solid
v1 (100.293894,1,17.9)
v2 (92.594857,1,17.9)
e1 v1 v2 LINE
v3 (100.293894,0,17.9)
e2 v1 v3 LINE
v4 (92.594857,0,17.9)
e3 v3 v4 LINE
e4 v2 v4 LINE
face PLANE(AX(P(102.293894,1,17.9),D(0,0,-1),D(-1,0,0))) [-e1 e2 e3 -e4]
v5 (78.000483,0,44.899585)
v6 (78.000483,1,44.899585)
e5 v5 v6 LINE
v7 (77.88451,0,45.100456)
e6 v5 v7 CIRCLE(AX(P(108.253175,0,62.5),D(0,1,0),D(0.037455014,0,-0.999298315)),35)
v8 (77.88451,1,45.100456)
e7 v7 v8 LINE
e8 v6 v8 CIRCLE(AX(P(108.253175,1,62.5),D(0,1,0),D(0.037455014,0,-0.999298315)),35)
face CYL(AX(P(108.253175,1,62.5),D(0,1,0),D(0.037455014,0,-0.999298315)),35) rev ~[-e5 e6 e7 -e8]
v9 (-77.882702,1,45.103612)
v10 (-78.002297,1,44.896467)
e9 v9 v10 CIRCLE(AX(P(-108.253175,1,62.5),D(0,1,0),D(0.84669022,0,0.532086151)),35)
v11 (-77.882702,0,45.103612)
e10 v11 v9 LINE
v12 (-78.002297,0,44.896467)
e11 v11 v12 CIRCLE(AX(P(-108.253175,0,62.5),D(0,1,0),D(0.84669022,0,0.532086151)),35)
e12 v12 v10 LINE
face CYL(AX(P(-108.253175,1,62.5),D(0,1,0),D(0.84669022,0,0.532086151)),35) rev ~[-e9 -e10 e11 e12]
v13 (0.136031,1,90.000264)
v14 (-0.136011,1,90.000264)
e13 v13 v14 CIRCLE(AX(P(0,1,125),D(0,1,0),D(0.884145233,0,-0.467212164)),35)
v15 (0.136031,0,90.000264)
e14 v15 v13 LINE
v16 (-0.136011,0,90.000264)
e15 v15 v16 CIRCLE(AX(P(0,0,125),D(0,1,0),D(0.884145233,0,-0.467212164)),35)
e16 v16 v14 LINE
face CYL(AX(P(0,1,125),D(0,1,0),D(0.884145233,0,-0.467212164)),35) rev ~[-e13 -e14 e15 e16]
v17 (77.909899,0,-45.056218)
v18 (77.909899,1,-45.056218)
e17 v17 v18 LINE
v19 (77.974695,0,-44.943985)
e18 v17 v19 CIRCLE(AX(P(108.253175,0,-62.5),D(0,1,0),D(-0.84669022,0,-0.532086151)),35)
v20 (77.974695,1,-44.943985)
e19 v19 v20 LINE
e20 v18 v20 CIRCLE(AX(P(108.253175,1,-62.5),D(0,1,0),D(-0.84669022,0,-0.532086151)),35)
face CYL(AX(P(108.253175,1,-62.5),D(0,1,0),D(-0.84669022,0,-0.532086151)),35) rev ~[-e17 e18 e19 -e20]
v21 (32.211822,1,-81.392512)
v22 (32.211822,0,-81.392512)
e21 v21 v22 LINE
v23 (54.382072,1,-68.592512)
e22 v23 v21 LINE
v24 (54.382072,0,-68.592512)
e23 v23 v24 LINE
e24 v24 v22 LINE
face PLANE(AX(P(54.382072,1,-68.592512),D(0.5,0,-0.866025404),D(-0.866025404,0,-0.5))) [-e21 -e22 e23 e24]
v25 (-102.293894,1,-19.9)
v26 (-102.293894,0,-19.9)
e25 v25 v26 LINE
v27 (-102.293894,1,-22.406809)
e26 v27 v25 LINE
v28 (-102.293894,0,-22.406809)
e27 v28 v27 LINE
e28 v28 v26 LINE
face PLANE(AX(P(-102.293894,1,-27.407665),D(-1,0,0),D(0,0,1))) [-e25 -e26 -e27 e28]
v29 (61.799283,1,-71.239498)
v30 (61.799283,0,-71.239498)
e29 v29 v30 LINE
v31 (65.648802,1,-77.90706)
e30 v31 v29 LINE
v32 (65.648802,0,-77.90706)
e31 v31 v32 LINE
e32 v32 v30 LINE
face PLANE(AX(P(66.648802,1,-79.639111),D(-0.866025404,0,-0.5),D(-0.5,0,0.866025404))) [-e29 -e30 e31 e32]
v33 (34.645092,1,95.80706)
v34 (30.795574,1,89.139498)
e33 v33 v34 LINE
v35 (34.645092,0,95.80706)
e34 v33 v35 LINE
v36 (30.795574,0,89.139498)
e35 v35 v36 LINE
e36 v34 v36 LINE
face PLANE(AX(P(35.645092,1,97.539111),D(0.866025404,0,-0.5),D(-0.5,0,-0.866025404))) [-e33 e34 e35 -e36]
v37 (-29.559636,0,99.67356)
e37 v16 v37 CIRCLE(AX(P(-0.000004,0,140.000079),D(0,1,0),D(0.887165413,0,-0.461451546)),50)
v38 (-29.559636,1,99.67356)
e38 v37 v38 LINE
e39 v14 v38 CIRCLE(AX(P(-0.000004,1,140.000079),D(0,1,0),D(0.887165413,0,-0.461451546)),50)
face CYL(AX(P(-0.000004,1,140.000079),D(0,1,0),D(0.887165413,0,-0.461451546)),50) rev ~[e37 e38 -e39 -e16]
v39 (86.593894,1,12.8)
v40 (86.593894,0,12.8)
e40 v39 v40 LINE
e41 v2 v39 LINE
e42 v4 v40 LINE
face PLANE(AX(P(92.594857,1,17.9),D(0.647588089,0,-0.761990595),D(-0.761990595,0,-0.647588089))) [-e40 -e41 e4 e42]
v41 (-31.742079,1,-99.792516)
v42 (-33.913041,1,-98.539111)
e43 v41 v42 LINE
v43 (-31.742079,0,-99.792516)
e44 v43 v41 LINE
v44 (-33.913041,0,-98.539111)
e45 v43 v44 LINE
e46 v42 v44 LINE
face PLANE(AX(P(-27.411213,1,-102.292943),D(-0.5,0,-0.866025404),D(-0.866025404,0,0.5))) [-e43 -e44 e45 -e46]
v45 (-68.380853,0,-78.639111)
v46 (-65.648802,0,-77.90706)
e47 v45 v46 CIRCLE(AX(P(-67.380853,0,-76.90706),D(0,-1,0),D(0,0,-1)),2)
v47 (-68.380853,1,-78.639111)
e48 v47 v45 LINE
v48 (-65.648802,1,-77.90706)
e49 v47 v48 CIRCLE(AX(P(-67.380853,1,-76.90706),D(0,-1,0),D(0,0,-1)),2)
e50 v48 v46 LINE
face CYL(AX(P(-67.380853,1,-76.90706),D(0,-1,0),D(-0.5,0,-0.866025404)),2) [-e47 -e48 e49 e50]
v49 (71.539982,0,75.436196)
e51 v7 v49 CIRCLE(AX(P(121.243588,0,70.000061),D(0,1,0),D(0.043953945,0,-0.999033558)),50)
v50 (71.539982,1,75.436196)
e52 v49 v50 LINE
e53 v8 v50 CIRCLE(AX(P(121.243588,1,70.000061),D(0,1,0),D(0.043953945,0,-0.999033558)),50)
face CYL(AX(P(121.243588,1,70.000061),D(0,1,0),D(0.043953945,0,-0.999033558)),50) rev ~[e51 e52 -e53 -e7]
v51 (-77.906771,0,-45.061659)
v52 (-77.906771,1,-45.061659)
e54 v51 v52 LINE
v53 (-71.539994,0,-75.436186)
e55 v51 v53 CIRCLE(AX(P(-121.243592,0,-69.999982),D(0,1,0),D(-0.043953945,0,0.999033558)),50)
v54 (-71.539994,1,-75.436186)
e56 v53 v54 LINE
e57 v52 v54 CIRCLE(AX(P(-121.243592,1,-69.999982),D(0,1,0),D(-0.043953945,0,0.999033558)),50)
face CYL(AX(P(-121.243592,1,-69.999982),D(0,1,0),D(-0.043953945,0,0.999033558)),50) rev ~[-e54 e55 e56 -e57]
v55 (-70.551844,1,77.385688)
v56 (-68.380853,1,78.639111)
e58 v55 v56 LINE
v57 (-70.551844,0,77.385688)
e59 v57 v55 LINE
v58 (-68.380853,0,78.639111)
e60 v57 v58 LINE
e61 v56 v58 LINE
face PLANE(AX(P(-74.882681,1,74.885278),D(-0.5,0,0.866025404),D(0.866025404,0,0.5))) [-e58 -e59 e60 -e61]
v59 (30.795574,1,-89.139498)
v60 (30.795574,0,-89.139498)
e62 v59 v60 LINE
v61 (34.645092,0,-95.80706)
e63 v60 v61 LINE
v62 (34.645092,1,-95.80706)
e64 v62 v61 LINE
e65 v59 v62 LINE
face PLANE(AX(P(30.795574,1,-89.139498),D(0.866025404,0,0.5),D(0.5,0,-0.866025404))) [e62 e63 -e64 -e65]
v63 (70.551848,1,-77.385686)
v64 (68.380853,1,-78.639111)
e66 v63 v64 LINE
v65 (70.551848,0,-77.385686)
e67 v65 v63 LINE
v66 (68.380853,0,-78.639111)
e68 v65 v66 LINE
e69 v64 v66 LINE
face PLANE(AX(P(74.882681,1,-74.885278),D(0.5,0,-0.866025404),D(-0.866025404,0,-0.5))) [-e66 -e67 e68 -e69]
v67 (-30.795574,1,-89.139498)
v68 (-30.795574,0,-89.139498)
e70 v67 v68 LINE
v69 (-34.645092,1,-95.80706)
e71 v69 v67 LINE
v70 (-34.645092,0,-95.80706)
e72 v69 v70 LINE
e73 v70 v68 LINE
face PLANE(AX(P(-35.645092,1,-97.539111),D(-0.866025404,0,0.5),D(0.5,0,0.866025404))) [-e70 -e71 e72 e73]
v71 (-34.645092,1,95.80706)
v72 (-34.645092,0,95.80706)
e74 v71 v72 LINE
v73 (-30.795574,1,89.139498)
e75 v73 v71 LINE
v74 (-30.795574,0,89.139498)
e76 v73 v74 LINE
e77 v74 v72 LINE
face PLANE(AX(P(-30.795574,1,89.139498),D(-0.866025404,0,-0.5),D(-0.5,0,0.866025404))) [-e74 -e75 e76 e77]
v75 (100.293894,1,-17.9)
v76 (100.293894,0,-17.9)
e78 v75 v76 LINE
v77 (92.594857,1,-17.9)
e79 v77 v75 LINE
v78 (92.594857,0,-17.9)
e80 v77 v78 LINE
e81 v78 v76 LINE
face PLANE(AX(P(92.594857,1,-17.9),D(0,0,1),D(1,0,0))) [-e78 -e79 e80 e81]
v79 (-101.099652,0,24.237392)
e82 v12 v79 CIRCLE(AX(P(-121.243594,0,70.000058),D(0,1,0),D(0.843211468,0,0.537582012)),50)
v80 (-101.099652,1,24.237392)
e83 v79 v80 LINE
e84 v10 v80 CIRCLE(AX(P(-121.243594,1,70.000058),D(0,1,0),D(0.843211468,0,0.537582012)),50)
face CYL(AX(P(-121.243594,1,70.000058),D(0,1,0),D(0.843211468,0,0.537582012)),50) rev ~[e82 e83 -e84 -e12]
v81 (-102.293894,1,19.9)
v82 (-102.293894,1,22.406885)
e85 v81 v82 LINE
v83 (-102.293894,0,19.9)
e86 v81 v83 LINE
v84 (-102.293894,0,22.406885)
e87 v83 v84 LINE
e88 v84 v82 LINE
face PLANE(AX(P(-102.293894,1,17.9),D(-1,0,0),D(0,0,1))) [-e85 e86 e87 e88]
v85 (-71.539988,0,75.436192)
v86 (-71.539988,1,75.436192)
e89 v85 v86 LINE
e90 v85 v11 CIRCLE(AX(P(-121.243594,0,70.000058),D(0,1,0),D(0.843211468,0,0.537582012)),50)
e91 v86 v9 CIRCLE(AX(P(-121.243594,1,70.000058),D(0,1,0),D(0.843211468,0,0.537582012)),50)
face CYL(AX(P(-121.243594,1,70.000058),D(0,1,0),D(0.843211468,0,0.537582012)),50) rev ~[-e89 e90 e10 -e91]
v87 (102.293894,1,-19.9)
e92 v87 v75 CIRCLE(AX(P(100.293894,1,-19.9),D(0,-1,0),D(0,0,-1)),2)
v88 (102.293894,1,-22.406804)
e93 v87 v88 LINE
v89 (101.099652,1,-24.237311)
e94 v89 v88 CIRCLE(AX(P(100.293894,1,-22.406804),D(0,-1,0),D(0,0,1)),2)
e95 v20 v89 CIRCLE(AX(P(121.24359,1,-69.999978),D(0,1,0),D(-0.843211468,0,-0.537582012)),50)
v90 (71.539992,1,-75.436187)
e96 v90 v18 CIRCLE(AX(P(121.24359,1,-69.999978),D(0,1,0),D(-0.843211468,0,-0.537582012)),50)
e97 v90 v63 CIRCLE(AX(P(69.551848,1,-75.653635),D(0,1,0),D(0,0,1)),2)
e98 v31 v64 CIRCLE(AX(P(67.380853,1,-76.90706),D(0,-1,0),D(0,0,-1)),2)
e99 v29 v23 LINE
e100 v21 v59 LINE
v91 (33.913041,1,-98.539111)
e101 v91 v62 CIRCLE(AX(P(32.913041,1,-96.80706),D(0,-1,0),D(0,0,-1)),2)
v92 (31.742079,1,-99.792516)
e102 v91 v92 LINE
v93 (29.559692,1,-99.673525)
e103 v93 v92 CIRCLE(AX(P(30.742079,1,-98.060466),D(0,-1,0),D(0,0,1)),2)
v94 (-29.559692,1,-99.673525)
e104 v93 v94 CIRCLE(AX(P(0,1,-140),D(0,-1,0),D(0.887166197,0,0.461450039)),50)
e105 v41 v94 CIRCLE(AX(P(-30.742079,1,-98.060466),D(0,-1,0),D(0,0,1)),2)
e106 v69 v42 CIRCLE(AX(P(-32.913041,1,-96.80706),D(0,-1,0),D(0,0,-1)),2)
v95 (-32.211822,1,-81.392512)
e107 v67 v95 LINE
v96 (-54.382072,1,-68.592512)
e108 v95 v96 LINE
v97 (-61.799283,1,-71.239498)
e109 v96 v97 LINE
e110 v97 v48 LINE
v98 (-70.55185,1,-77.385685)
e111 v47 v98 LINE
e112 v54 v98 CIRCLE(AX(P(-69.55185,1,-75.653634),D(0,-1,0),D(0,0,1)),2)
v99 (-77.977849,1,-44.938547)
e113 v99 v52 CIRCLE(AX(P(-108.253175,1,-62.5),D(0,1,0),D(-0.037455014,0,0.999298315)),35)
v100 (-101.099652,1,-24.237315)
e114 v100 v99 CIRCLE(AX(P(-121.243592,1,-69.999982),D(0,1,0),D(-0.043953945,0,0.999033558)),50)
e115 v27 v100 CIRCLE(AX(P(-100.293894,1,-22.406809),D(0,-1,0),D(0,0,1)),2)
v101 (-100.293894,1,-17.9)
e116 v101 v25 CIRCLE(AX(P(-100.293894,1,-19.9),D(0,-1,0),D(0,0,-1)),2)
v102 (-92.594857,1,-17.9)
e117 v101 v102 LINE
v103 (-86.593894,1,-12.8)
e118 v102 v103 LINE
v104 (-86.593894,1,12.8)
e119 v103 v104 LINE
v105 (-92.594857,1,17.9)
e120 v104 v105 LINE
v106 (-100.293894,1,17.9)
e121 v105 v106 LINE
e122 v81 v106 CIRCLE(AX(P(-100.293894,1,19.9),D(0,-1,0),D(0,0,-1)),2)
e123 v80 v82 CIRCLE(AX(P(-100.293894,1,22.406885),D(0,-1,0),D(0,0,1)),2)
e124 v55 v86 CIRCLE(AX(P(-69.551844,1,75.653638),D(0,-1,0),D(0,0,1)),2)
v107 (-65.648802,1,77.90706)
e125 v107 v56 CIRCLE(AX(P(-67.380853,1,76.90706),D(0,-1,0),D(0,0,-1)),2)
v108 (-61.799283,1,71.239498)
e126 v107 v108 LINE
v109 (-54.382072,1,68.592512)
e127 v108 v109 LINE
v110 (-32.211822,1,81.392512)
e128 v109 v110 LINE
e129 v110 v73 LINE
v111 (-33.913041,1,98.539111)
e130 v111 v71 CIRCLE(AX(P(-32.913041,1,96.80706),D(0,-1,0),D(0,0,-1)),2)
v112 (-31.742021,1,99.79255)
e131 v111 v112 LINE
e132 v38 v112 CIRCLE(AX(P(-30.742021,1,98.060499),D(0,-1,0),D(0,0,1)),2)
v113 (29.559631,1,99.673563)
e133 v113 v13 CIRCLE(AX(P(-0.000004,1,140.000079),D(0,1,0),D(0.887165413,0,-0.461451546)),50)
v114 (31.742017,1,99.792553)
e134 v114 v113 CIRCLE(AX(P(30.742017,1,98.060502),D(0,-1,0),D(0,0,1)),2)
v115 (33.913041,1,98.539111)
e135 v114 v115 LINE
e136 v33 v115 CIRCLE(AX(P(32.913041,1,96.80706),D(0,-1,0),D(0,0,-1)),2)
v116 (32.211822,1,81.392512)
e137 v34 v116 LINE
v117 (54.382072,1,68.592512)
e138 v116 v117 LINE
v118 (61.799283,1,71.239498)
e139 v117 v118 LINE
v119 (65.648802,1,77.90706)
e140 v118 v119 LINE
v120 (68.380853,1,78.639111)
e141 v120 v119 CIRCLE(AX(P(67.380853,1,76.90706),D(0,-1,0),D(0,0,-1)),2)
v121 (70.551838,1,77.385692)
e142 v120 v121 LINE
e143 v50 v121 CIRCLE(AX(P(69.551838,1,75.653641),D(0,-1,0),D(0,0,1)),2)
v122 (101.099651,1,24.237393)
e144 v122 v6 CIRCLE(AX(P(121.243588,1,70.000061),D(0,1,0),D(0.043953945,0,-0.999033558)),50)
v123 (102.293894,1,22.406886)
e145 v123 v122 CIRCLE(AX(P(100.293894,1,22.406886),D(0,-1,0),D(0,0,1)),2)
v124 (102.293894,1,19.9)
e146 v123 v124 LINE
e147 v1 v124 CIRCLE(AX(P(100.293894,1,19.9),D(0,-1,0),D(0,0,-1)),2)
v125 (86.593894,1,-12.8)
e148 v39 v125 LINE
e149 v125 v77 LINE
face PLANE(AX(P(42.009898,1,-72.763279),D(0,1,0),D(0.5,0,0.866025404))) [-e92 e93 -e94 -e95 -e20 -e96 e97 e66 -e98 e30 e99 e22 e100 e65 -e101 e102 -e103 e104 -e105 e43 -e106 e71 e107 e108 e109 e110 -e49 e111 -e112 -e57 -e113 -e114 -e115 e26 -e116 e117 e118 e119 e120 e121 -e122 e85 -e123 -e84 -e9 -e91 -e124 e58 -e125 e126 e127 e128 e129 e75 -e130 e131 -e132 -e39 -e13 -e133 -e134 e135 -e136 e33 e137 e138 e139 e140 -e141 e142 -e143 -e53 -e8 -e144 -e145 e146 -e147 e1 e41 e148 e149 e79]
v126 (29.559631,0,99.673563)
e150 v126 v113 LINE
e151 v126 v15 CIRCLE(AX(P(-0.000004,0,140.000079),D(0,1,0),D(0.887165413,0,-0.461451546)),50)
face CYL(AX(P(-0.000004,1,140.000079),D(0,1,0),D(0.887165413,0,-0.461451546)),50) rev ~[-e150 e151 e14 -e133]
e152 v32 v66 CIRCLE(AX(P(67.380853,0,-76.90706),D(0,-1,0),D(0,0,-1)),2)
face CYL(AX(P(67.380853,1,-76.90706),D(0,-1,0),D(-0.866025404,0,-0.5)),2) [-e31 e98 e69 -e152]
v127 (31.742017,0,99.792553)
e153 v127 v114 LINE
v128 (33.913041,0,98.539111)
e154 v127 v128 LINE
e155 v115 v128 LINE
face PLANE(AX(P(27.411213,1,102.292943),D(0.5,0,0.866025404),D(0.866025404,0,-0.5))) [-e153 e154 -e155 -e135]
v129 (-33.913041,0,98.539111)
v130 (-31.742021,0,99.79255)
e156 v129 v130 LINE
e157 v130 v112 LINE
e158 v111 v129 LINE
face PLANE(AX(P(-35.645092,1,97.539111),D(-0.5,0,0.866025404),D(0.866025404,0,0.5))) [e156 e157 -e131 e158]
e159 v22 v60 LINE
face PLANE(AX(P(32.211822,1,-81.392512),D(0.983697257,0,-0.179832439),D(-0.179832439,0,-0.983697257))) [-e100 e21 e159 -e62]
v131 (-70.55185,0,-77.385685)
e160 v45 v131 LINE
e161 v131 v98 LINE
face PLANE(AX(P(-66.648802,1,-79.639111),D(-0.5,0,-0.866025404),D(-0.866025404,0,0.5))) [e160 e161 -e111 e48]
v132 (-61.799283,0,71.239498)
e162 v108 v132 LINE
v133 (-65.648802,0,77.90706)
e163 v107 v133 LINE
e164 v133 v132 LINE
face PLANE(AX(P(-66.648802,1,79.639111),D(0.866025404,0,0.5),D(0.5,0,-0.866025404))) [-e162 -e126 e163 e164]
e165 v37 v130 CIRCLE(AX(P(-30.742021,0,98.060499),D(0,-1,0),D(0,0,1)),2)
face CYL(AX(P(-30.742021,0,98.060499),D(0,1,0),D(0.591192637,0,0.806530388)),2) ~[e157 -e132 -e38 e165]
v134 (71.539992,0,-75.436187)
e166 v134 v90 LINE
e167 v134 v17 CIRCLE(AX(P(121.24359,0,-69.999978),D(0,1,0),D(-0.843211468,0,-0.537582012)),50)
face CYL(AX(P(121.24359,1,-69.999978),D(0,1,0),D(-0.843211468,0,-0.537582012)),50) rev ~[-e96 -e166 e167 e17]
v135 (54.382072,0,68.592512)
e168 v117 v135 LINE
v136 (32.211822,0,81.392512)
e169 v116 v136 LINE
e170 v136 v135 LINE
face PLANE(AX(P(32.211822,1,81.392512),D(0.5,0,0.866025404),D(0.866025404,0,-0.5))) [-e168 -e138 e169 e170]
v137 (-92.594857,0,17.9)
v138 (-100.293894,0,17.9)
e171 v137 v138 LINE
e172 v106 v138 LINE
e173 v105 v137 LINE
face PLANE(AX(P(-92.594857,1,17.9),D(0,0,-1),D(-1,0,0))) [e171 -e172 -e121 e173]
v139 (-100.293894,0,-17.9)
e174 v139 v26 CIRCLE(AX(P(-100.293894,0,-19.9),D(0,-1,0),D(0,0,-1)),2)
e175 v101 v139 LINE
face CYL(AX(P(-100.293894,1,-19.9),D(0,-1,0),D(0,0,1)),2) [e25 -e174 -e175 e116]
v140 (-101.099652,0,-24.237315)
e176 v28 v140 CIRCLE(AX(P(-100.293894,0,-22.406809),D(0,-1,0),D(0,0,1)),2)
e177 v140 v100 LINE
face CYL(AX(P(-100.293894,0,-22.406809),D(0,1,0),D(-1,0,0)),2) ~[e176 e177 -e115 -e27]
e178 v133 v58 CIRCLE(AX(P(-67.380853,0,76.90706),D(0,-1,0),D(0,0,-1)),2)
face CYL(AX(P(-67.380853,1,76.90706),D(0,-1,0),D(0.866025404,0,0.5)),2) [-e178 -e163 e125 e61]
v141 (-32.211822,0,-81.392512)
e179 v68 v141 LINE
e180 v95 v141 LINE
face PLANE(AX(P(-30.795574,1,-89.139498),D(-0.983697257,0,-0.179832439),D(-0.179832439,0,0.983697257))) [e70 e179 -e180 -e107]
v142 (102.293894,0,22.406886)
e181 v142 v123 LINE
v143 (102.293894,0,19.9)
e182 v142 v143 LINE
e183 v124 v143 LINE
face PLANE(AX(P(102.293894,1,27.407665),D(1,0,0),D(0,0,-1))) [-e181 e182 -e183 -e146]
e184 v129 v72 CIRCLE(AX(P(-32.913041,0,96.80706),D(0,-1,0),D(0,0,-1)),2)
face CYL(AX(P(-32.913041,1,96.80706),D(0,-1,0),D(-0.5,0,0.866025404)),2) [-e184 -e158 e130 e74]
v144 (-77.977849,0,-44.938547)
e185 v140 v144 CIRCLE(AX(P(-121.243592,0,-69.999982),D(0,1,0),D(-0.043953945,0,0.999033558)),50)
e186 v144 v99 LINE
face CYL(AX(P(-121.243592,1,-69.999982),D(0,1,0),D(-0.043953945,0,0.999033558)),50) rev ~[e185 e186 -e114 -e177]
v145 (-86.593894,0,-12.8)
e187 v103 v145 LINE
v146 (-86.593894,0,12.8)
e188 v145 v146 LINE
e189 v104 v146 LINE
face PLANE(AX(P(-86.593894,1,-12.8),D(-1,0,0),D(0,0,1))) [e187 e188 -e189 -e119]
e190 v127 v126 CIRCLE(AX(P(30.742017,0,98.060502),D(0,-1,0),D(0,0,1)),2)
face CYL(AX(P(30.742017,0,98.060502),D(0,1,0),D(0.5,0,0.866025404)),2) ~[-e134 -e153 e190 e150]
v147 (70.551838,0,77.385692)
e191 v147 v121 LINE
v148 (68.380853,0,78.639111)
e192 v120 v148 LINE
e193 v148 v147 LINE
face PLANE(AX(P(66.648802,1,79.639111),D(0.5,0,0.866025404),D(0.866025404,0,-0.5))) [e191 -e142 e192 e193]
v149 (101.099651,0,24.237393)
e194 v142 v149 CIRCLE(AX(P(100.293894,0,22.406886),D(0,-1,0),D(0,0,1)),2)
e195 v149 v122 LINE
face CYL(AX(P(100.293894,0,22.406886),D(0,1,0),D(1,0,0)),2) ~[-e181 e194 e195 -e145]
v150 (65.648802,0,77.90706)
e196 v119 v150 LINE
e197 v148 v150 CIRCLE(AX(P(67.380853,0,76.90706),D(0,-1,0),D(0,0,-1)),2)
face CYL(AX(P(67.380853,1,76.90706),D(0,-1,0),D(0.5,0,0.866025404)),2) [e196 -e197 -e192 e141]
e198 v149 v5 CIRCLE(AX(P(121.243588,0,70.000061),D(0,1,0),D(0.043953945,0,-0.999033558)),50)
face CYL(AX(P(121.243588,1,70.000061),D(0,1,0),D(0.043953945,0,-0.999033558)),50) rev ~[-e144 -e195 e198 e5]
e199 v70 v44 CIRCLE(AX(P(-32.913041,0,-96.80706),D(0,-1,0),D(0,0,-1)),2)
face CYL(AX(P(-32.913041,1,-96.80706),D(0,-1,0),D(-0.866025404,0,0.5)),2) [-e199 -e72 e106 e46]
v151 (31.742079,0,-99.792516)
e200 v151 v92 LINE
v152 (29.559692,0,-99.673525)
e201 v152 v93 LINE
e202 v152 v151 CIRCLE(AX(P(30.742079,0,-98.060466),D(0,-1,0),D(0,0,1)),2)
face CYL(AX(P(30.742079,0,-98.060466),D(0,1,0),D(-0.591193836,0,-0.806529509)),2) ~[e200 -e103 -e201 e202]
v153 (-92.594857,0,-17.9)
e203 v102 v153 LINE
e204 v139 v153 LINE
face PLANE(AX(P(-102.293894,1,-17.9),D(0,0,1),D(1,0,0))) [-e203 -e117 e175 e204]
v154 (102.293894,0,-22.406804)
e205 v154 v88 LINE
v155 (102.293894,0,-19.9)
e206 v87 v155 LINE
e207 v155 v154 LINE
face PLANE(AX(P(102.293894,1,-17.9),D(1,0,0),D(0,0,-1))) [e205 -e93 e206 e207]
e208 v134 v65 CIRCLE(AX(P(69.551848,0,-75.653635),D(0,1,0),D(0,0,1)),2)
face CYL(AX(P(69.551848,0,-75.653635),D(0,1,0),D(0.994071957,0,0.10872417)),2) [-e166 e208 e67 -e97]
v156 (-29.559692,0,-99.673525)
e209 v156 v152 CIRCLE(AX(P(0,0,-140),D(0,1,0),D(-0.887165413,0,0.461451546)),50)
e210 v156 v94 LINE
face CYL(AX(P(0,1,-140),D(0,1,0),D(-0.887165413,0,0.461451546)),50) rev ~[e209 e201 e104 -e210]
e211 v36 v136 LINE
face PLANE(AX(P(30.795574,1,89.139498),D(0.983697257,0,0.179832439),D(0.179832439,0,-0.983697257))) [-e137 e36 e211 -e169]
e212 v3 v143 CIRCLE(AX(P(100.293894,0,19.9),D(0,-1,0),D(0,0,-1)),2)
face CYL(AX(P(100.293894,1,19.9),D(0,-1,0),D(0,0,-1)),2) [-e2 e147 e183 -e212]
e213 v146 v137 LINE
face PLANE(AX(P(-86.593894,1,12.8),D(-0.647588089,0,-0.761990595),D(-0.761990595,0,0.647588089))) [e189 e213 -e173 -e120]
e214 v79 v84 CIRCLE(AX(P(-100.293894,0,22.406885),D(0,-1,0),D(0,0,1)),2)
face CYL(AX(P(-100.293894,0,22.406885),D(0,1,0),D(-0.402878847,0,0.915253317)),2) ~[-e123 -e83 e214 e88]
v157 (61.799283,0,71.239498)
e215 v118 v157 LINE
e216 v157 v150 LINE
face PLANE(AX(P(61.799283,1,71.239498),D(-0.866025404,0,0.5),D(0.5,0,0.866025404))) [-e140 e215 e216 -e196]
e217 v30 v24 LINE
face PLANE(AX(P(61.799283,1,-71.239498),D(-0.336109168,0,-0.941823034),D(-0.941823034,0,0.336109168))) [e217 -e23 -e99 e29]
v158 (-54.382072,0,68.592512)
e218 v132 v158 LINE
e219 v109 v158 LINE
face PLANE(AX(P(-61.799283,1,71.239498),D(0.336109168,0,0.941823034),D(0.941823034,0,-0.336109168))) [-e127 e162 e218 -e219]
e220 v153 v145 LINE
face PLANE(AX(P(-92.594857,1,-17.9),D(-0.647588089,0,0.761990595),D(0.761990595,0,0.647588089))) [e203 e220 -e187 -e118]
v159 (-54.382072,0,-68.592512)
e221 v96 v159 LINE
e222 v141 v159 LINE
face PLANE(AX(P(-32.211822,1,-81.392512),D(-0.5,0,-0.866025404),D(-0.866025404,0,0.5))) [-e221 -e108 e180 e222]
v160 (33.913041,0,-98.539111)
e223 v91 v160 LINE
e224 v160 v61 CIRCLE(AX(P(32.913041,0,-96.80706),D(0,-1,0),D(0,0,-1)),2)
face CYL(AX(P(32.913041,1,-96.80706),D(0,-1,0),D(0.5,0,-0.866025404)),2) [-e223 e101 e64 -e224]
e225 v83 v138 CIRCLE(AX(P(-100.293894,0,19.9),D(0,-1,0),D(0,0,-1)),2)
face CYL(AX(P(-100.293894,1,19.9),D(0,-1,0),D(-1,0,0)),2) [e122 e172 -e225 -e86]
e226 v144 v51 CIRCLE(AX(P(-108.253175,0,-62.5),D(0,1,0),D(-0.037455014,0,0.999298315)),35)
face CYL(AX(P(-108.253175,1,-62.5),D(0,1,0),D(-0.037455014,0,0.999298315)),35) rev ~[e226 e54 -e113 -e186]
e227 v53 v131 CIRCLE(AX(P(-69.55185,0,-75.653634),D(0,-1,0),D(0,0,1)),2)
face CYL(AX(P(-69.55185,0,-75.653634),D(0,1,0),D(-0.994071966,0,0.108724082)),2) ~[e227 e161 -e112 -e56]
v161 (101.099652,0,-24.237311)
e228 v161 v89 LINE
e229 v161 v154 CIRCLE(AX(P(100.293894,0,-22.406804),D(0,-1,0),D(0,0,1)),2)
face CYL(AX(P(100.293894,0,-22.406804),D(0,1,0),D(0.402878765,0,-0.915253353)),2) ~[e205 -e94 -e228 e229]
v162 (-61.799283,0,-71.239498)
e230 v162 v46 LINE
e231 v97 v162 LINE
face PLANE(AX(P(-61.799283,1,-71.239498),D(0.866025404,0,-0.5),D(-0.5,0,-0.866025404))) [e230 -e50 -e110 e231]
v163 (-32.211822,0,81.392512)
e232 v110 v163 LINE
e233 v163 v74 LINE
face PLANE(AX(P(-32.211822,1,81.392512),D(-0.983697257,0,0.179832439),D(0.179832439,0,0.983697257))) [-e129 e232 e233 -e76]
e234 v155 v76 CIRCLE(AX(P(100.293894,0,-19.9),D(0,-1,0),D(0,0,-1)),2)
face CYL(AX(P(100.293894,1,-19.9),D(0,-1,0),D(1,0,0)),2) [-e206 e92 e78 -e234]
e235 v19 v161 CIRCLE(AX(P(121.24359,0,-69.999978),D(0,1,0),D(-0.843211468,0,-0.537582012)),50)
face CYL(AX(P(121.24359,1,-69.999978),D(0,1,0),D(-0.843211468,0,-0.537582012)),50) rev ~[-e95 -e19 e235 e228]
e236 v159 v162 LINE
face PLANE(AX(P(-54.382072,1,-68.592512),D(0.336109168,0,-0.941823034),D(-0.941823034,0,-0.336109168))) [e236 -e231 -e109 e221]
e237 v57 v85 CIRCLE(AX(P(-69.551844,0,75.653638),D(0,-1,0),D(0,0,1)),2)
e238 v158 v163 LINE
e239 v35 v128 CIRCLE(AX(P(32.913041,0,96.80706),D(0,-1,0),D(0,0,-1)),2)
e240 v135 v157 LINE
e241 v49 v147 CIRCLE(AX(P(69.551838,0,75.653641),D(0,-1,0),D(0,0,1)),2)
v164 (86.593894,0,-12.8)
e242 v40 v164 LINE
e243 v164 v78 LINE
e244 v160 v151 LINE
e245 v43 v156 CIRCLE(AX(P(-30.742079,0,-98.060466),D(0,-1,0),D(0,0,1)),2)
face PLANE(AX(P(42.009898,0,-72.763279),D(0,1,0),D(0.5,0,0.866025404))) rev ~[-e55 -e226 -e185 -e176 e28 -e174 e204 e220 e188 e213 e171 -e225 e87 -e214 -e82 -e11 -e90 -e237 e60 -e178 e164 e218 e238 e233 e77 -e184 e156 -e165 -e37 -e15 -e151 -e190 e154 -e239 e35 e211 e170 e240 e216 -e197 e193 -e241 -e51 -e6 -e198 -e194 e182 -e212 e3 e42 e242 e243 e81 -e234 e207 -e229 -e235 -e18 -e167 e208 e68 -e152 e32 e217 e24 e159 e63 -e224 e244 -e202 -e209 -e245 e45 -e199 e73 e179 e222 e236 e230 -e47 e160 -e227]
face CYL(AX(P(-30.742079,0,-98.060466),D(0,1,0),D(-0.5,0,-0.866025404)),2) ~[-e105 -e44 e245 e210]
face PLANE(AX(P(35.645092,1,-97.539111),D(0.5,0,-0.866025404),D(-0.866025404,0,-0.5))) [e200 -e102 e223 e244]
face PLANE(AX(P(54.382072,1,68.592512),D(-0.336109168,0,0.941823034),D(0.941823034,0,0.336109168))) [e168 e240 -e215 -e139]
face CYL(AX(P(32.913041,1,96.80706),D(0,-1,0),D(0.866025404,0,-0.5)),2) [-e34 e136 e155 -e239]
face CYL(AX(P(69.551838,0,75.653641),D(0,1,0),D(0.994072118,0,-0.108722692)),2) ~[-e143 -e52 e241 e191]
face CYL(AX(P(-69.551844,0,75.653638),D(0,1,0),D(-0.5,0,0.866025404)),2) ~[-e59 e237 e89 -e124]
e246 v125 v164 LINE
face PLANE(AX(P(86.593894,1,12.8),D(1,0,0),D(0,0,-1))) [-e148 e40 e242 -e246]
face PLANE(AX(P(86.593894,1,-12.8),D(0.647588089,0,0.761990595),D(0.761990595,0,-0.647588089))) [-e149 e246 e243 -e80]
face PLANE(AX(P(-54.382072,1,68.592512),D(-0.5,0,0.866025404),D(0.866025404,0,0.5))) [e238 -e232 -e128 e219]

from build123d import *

# Parameters (mm, degrees)
SKETCH2_R           = 1.35
BOSS_EXTRUDE1_DEPTH = 1
CIRPATTERN1_COUNT   = 6
CUT_EXTRUDE3_DEPTH  = 5
CUT_EXTRUDE9_DEPTH  = 10
CUT_EXTRUDE10_DEPTH = 186.676097905
FILLET2_R           = 2


with BuildPart() as part:
    # Sketch2 → Boss-Extrude1 (new body)
    with BuildSketch(Plane(origin=(0, 0, 0), x_dir=(1, 0, 0), z_dir=(0, 1, 0))):
        Polygon((0, 125), (-58.08143708, 125), (-35.58143708, 86.02885683), (-56.712456933, 73.82885683), (-79.212456933, 112.8), (-108.253175473, 62.5), (0, 0), align=None)
        with Locations(Location((-37.385731074, 81.753985699, 0), (0, 0, 270))):
            Circle(SKETCH2_R, mode=Mode.SUBTRACT)
        with Locations(Location((-52.108162939, 73.253985699, 0), (0, 0, 270))):
            Circle(SKETCH2_R, mode=Mode.SUBTRACT)
        with Locations(Location((-60.887328063, 75.459945743, 0), (0, 0, 270))):
            Circle(SKETCH2_R, mode=Mode.SUBTRACT)
        with Locations(Location((-34.90656595, 90.459945743, 0), (0, 0, 270))):
            Circle(SKETCH2_R, mode=Mode.SUBTRACT)
        with Locations(Location((-51.90656595, 119.904809472, 0), (0, 0, 270))):
            Circle(SKETCH2_R, mode=Mode.SUBTRACT)
        with Locations(Location((-43.40656595, 105.182377607, 0), (0, 0, 270))):
            Circle(SKETCH2_R, mode=Mode.SUBTRACT)
        with Locations(Location((-69.387328063, 90.182377607, 0), (0, 0, 270))):
            Circle(SKETCH2_R, mode=Mode.SUBTRACT)
        with Locations(Location((-77.887328063, 104.904809472, 0), (0, 0, 270))):
            Circle(SKETCH2_R, mode=Mode.SUBTRACT)
    boss_extrude1 = extrude(amount=BOSS_EXTRUDE1_DEPTH)

    # CirPattern1: Boss-Extrude1 ×6 about axis
    cirpattern1_axis = Axis((0, 0, 0), (0, 1, 0))
    for i in range(1, CIRPATTERN1_COUNT):
        add(boss_extrude1.rotate(cirpattern1_axis, i * 360 / CIRPATTERN1_COUNT))

    # Sketch4 → Cut-Extrude3 (cut)
    with BuildSketch(Plane(origin=(0, 1, 0), x_dir=(1, 0, 0), z_dir=(0, 1, 0))):
        with BuildLine():
            Line((79.212456933, -112.8), (137.293894013, -12.2))
            ThreePointArc((137.293894013, -12.2), (125.5592118, -23.716902798), (109.56410095, -27.524558982))
            ThreePointArc((109.56410095, -27.524558982), (77.942286341, -45), (78.619017782, -81.123015275))
            ThreePointArc((78.619017782, -81.123015275), (83.319046223, -96.879015699), (79.212456933, -112.8))
        make_face()
        with BuildLine():
            Line((137.293894013, 12.2), (79.212456933, 112.8))
            ThreePointArc((79.212456933, 112.8), (83.319046223, 96.879015699), (78.619017782, 81.123015275))
            ThreePointArc((78.619017782, 81.123015275), (77.942286341, 45), (109.56410095, 27.524558982))
            ThreePointArc((109.56410095, 27.524558982), (125.5592118, 23.716902798), (137.293894013, 12.2))
        make_face()
        with BuildLine():
            Line((58.08143708, 125), (-58.08143708, 125))
            ThreePointArc((-58.08143708, 125), (-42.240165578, 120.595918497), (-30.945083169, 108.647574257))
            ThreePointArc((-30.945083169, 108.647574257), (0, 90), (30.945083169, 108.647574257))
            ThreePointArc((30.945083169, 108.647574257), (42.240165578, 120.595918497), (58.08143708, 125))
        make_face()
        with BuildLine():
            Line((-79.212456933, 112.8), (-137.293894013, 12.2))
            ThreePointArc((-137.293894013, 12.2), (-125.5592118, 23.716902798), (-109.56410095, 27.524558982))
            ThreePointArc((-109.56410095, 27.524558982), (-77.942286341, 45), (-78.619017782, 81.123015275))
            ThreePointArc((-78.619017782, 81.123015275), (-83.319046223, 96.879015699), (-79.212456933, 112.8))
        make_face()
        with BuildLine():
            Line((-137.293894013, -12.2), (-79.212456933, -112.8))
            ThreePointArc((-79.212456933, -112.8), (-83.319046223, -96.879015699), (-78.619017782, -81.123015275))
            ThreePointArc((-78.619017782, -81.123015275), (-77.942286341, -45), (-109.56410095, -27.524558982))
            ThreePointArc((-109.56410095, -27.524558982), (-125.5592118, -23.716902798), (-137.293894013, -12.2))
        make_face()
        with BuildLine():
            Line((-58.08143708, -125), (58.08143708, -125))
            ThreePointArc((58.08143708, -125), (42.240165578, -120.595918497), (30.945083169, -108.647574257))
            ThreePointArc((30.945083169, -108.647574257), (0, -90), (-30.945083169, -108.647574257))
            ThreePointArc((-30.945083169, -108.647574257), (-42.240165578, -120.595918497), (-58.08143708, -125))
        make_face()
    extrude(amount=-CUT_EXTRUDE3_DEPTH, mode=Mode.SUBTRACT)

    # Sketch8 → Cut-Extrude9 (cut)
    with BuildSketch(Plane(origin=(0, 1, 0), x_dir=(1, 0, 0), z_dir=(0, 1, 0))):
        with BuildLine():
            Line((-79.627397697, 112.081427342), (-137.090413308, 12.563994028))
            ThreePointArc((-137.090413308, 12.563994028), (-131.312677504, 18.215244412), (-123.44128918, 20.048304088))
            ThreePointArc((-123.44128918, 20.048304088), (-77.942300503, 45.000018775), (-79.083064161, 96.879154221))
            ThreePointArc((-79.083064161, 96.879154221), (-81.425302856, 104.406169658), (-79.627397697, 112.081427342))
        make_face()
        with BuildLine():
            Line((-136.879097611, -12.918653567), (-79.425980046, -112.441801521))
            ThreePointArc((-79.425980046, -112.441801521), (-81.43123854, -104.612510346), (-79.083020624, -96.879158257))
            ThreePointArc((-79.083020624, -96.879158257), (-77.942345072, -45.000020873), (-123.441376125, -20.048383457))
            ThreePointArc((-123.441376125, -20.048383457), (-131.131082054, -18.31331395), (-136.879097611, -12.918653567))
        make_face()
        with BuildLine():
            Line((-57.251702025, -125.000120556), (57.66443115, -125.005835196))
            ThreePointArc((57.66443115, -125.005835196), (49.881436852, -122.827794405), (44.358266444, -116.927501992))
            ThreePointArc((44.358266444, -116.927501992), (-4.6681e-05, -90.000079294), (-44.358314075, -116.927577326))
            ThreePointArc((-44.358314075, -116.927577326), (-49.70578131, -122.719523255), (-57.251702025, -125.000120556))
        make_face()
        with BuildLine():
            Line((79.627393474, -112.081506636), (137.090409084, -12.564073322))
            ThreePointArc((137.090409084, -12.564073322), (131.312673281, -18.215323706), (123.441284957, -20.048383382))
            ThreePointArc((123.441284957, -20.048383382), (77.94229628, -45.000098069), (79.083059938, -96.879233516))
            ThreePointArc((79.083059938, -96.879233516), (81.425298632, -104.406248952), (79.627393474, -112.081506636))
        make_face()
        with BuildLine():
            Line((136.879093387, 12.918574273), (79.425975823, 112.441722226))
            ThreePointArc((79.425975823, 112.441722226), (81.431234317, 104.612431052), (79.083016401, 96.879078963))
            ThreePointArc((79.083016401, 96.879078963), (77.942340849, 44.999941578), (123.441371902, 20.048304163))
            ThreePointArc((123.441371902, 20.048304163), (131.131077831, 18.313234656), (136.879093387, 12.918574273))
        make_face()
        with BuildLine():
            Line((57.251697801, 125.000041262), (-57.664435373, 125.005755901))
            ThreePointArc((-57.664435373, 125.005755901), (-49.881441076, 122.827715111), (-44.358270668, 116.927422698))
            ThreePointArc((-44.358270668, 116.927422698), (4.2458e-05, 90), (44.358309852, 116.927498031))
            ThreePointArc((44.358309852, 116.927498031), (49.705777087, 122.71944396), (57.251697801, 125.000041262))
        make_face()
    extrude(amount=-CUT_EXTRUDE9_DEPTH, mode=Mode.SUBTRACT)

    # Sketch9 → Cut-Extrude10 (cut, through all)
    with BuildSketch(Plane(origin=(0, 1, 0), x_dir=(1, 0, 0), z_dir=(0, 1, 0))):
        Polygon((86.593894013, 12.8), (92.594856816, 17.9), (102.293894013, 17.9), (102.293894013, 27.495537581), (142.49088479, 27.495537581), (142.49088479, -27.407665194), (102.293894013, -27.407665194), (102.293894013, -17.9), (92.594856816, -17.9), (86.593894013, -12.8), align=None)
        Polygon((95.057276431, -109.652957246), (47.509708079, -137.104558633), (27.41121269, -102.292943464), (35.645092279, -97.539110868), (30.79557368, -89.139498262), (32.211821838, -81.392512028), (54.382072175, -68.592512028), (61.799283136, -71.239498262), (66.648801734, -79.639110868), (74.958781042, -74.841342077), align=None)
        Polygon((-47.43360836, -137.148494826), (-94.981176711, -109.696893439), (-74.882681323, -74.885278271), (-66.648801734, -79.639110868), (-61.799283136, -71.239498262), (-54.382072175, -68.592512028), (-32.211821838, -81.392512028), (-30.79557368, -89.139498262), (-35.645092279, -97.539110868), (-27.335112971, -102.336879658), align=None)
        Polygon((-142.49088479, -27.495537581), (-142.49088479, 27.407665194), (-102.293894013, 27.407665194), (-102.293894013, 17.9), (-92.594856816, 17.9), (-86.593894013, 12.8), (-86.593894013, -12.8), (-92.594856816, -17.9), (-102.293894013, -17.9), (-102.293894013, -27.495537581), align=None)
        Polygon((-95.057276431, 109.652957246), (-47.509708079, 137.104558633), (-27.41121269, 102.292943464), (-35.645092279, 97.539110868), (-30.79557368, 89.139498262), (-32.211821838, 81.392512028), (-54.382072175, 68.592512028), (-61.799283136, 71.239498262), (-66.648801734, 79.639110868), (-74.958781042, 74.841342077), align=None)
        Polygon((47.43360836, 137.148494826), (94.981176711, 109.696893439), (74.882681323, 74.885278271), (66.648801734, 79.639110868), (61.799283136, 71.239498262), (54.382072175, 68.592512028), (32.211821838, 81.392512028), (30.79557368, 89.139498262), (35.645092279, 97.539110868), (27.335112971, 102.336879658), align=None)
    extrude(amount=-CUT_EXTRUDE10_DEPTH, mode=Mode.SUBTRACT)

    # Fillet2
    fillet2_edges = [part.edges().sort_by_distance(p)[0] for p in [
        (30.596139754, 0.5, -100.454124967),
        (-30.596139754, 0.5, -100.454124967),
        (71.697787846, 0.5, -76.724077377),
        (102.293894013, 0.5, -23.730020176),
        (102.293894013, 0.5, 23.730102263),
        (71.697775448, 0.5, 76.724084535),
        (30.596078644, 0.5, 100.454160249),
        (-30.596083481, 0.5, 100.454157456),
        (-71.697781783, 0.5, 76.724080878),
        (-102.293894013, 0.5, 23.7301012),
        (-71.697789343, 0.5, -76.724076512),
        (-102.293894013, 0.5, -23.730024698),
        (66.648801734, 0.5, 79.639110868),
        (35.645092279, 0.5, 97.539110868),
        (-35.645092279, 0.5, 97.539110868),
        (-66.648801734, 0.5, 79.639110868),
        (-102.293894013, 0.5, 17.9),
        (-102.293894013, 0.5, -17.9),
        (-66.648801734, 0.5, -79.639110868),
        (-35.645092279, 0.5, -97.539110868),
        (35.645092279, 0.5, -97.539110868),
        (66.648801734, 0.5, -79.639110868),
        (102.293894013, 0.5, -17.9),
        (102.293894013, 0.5, 17.9),
    ]]
    fillet(fillet2_edges, radius=FILLET2_R)


solid = part.part
